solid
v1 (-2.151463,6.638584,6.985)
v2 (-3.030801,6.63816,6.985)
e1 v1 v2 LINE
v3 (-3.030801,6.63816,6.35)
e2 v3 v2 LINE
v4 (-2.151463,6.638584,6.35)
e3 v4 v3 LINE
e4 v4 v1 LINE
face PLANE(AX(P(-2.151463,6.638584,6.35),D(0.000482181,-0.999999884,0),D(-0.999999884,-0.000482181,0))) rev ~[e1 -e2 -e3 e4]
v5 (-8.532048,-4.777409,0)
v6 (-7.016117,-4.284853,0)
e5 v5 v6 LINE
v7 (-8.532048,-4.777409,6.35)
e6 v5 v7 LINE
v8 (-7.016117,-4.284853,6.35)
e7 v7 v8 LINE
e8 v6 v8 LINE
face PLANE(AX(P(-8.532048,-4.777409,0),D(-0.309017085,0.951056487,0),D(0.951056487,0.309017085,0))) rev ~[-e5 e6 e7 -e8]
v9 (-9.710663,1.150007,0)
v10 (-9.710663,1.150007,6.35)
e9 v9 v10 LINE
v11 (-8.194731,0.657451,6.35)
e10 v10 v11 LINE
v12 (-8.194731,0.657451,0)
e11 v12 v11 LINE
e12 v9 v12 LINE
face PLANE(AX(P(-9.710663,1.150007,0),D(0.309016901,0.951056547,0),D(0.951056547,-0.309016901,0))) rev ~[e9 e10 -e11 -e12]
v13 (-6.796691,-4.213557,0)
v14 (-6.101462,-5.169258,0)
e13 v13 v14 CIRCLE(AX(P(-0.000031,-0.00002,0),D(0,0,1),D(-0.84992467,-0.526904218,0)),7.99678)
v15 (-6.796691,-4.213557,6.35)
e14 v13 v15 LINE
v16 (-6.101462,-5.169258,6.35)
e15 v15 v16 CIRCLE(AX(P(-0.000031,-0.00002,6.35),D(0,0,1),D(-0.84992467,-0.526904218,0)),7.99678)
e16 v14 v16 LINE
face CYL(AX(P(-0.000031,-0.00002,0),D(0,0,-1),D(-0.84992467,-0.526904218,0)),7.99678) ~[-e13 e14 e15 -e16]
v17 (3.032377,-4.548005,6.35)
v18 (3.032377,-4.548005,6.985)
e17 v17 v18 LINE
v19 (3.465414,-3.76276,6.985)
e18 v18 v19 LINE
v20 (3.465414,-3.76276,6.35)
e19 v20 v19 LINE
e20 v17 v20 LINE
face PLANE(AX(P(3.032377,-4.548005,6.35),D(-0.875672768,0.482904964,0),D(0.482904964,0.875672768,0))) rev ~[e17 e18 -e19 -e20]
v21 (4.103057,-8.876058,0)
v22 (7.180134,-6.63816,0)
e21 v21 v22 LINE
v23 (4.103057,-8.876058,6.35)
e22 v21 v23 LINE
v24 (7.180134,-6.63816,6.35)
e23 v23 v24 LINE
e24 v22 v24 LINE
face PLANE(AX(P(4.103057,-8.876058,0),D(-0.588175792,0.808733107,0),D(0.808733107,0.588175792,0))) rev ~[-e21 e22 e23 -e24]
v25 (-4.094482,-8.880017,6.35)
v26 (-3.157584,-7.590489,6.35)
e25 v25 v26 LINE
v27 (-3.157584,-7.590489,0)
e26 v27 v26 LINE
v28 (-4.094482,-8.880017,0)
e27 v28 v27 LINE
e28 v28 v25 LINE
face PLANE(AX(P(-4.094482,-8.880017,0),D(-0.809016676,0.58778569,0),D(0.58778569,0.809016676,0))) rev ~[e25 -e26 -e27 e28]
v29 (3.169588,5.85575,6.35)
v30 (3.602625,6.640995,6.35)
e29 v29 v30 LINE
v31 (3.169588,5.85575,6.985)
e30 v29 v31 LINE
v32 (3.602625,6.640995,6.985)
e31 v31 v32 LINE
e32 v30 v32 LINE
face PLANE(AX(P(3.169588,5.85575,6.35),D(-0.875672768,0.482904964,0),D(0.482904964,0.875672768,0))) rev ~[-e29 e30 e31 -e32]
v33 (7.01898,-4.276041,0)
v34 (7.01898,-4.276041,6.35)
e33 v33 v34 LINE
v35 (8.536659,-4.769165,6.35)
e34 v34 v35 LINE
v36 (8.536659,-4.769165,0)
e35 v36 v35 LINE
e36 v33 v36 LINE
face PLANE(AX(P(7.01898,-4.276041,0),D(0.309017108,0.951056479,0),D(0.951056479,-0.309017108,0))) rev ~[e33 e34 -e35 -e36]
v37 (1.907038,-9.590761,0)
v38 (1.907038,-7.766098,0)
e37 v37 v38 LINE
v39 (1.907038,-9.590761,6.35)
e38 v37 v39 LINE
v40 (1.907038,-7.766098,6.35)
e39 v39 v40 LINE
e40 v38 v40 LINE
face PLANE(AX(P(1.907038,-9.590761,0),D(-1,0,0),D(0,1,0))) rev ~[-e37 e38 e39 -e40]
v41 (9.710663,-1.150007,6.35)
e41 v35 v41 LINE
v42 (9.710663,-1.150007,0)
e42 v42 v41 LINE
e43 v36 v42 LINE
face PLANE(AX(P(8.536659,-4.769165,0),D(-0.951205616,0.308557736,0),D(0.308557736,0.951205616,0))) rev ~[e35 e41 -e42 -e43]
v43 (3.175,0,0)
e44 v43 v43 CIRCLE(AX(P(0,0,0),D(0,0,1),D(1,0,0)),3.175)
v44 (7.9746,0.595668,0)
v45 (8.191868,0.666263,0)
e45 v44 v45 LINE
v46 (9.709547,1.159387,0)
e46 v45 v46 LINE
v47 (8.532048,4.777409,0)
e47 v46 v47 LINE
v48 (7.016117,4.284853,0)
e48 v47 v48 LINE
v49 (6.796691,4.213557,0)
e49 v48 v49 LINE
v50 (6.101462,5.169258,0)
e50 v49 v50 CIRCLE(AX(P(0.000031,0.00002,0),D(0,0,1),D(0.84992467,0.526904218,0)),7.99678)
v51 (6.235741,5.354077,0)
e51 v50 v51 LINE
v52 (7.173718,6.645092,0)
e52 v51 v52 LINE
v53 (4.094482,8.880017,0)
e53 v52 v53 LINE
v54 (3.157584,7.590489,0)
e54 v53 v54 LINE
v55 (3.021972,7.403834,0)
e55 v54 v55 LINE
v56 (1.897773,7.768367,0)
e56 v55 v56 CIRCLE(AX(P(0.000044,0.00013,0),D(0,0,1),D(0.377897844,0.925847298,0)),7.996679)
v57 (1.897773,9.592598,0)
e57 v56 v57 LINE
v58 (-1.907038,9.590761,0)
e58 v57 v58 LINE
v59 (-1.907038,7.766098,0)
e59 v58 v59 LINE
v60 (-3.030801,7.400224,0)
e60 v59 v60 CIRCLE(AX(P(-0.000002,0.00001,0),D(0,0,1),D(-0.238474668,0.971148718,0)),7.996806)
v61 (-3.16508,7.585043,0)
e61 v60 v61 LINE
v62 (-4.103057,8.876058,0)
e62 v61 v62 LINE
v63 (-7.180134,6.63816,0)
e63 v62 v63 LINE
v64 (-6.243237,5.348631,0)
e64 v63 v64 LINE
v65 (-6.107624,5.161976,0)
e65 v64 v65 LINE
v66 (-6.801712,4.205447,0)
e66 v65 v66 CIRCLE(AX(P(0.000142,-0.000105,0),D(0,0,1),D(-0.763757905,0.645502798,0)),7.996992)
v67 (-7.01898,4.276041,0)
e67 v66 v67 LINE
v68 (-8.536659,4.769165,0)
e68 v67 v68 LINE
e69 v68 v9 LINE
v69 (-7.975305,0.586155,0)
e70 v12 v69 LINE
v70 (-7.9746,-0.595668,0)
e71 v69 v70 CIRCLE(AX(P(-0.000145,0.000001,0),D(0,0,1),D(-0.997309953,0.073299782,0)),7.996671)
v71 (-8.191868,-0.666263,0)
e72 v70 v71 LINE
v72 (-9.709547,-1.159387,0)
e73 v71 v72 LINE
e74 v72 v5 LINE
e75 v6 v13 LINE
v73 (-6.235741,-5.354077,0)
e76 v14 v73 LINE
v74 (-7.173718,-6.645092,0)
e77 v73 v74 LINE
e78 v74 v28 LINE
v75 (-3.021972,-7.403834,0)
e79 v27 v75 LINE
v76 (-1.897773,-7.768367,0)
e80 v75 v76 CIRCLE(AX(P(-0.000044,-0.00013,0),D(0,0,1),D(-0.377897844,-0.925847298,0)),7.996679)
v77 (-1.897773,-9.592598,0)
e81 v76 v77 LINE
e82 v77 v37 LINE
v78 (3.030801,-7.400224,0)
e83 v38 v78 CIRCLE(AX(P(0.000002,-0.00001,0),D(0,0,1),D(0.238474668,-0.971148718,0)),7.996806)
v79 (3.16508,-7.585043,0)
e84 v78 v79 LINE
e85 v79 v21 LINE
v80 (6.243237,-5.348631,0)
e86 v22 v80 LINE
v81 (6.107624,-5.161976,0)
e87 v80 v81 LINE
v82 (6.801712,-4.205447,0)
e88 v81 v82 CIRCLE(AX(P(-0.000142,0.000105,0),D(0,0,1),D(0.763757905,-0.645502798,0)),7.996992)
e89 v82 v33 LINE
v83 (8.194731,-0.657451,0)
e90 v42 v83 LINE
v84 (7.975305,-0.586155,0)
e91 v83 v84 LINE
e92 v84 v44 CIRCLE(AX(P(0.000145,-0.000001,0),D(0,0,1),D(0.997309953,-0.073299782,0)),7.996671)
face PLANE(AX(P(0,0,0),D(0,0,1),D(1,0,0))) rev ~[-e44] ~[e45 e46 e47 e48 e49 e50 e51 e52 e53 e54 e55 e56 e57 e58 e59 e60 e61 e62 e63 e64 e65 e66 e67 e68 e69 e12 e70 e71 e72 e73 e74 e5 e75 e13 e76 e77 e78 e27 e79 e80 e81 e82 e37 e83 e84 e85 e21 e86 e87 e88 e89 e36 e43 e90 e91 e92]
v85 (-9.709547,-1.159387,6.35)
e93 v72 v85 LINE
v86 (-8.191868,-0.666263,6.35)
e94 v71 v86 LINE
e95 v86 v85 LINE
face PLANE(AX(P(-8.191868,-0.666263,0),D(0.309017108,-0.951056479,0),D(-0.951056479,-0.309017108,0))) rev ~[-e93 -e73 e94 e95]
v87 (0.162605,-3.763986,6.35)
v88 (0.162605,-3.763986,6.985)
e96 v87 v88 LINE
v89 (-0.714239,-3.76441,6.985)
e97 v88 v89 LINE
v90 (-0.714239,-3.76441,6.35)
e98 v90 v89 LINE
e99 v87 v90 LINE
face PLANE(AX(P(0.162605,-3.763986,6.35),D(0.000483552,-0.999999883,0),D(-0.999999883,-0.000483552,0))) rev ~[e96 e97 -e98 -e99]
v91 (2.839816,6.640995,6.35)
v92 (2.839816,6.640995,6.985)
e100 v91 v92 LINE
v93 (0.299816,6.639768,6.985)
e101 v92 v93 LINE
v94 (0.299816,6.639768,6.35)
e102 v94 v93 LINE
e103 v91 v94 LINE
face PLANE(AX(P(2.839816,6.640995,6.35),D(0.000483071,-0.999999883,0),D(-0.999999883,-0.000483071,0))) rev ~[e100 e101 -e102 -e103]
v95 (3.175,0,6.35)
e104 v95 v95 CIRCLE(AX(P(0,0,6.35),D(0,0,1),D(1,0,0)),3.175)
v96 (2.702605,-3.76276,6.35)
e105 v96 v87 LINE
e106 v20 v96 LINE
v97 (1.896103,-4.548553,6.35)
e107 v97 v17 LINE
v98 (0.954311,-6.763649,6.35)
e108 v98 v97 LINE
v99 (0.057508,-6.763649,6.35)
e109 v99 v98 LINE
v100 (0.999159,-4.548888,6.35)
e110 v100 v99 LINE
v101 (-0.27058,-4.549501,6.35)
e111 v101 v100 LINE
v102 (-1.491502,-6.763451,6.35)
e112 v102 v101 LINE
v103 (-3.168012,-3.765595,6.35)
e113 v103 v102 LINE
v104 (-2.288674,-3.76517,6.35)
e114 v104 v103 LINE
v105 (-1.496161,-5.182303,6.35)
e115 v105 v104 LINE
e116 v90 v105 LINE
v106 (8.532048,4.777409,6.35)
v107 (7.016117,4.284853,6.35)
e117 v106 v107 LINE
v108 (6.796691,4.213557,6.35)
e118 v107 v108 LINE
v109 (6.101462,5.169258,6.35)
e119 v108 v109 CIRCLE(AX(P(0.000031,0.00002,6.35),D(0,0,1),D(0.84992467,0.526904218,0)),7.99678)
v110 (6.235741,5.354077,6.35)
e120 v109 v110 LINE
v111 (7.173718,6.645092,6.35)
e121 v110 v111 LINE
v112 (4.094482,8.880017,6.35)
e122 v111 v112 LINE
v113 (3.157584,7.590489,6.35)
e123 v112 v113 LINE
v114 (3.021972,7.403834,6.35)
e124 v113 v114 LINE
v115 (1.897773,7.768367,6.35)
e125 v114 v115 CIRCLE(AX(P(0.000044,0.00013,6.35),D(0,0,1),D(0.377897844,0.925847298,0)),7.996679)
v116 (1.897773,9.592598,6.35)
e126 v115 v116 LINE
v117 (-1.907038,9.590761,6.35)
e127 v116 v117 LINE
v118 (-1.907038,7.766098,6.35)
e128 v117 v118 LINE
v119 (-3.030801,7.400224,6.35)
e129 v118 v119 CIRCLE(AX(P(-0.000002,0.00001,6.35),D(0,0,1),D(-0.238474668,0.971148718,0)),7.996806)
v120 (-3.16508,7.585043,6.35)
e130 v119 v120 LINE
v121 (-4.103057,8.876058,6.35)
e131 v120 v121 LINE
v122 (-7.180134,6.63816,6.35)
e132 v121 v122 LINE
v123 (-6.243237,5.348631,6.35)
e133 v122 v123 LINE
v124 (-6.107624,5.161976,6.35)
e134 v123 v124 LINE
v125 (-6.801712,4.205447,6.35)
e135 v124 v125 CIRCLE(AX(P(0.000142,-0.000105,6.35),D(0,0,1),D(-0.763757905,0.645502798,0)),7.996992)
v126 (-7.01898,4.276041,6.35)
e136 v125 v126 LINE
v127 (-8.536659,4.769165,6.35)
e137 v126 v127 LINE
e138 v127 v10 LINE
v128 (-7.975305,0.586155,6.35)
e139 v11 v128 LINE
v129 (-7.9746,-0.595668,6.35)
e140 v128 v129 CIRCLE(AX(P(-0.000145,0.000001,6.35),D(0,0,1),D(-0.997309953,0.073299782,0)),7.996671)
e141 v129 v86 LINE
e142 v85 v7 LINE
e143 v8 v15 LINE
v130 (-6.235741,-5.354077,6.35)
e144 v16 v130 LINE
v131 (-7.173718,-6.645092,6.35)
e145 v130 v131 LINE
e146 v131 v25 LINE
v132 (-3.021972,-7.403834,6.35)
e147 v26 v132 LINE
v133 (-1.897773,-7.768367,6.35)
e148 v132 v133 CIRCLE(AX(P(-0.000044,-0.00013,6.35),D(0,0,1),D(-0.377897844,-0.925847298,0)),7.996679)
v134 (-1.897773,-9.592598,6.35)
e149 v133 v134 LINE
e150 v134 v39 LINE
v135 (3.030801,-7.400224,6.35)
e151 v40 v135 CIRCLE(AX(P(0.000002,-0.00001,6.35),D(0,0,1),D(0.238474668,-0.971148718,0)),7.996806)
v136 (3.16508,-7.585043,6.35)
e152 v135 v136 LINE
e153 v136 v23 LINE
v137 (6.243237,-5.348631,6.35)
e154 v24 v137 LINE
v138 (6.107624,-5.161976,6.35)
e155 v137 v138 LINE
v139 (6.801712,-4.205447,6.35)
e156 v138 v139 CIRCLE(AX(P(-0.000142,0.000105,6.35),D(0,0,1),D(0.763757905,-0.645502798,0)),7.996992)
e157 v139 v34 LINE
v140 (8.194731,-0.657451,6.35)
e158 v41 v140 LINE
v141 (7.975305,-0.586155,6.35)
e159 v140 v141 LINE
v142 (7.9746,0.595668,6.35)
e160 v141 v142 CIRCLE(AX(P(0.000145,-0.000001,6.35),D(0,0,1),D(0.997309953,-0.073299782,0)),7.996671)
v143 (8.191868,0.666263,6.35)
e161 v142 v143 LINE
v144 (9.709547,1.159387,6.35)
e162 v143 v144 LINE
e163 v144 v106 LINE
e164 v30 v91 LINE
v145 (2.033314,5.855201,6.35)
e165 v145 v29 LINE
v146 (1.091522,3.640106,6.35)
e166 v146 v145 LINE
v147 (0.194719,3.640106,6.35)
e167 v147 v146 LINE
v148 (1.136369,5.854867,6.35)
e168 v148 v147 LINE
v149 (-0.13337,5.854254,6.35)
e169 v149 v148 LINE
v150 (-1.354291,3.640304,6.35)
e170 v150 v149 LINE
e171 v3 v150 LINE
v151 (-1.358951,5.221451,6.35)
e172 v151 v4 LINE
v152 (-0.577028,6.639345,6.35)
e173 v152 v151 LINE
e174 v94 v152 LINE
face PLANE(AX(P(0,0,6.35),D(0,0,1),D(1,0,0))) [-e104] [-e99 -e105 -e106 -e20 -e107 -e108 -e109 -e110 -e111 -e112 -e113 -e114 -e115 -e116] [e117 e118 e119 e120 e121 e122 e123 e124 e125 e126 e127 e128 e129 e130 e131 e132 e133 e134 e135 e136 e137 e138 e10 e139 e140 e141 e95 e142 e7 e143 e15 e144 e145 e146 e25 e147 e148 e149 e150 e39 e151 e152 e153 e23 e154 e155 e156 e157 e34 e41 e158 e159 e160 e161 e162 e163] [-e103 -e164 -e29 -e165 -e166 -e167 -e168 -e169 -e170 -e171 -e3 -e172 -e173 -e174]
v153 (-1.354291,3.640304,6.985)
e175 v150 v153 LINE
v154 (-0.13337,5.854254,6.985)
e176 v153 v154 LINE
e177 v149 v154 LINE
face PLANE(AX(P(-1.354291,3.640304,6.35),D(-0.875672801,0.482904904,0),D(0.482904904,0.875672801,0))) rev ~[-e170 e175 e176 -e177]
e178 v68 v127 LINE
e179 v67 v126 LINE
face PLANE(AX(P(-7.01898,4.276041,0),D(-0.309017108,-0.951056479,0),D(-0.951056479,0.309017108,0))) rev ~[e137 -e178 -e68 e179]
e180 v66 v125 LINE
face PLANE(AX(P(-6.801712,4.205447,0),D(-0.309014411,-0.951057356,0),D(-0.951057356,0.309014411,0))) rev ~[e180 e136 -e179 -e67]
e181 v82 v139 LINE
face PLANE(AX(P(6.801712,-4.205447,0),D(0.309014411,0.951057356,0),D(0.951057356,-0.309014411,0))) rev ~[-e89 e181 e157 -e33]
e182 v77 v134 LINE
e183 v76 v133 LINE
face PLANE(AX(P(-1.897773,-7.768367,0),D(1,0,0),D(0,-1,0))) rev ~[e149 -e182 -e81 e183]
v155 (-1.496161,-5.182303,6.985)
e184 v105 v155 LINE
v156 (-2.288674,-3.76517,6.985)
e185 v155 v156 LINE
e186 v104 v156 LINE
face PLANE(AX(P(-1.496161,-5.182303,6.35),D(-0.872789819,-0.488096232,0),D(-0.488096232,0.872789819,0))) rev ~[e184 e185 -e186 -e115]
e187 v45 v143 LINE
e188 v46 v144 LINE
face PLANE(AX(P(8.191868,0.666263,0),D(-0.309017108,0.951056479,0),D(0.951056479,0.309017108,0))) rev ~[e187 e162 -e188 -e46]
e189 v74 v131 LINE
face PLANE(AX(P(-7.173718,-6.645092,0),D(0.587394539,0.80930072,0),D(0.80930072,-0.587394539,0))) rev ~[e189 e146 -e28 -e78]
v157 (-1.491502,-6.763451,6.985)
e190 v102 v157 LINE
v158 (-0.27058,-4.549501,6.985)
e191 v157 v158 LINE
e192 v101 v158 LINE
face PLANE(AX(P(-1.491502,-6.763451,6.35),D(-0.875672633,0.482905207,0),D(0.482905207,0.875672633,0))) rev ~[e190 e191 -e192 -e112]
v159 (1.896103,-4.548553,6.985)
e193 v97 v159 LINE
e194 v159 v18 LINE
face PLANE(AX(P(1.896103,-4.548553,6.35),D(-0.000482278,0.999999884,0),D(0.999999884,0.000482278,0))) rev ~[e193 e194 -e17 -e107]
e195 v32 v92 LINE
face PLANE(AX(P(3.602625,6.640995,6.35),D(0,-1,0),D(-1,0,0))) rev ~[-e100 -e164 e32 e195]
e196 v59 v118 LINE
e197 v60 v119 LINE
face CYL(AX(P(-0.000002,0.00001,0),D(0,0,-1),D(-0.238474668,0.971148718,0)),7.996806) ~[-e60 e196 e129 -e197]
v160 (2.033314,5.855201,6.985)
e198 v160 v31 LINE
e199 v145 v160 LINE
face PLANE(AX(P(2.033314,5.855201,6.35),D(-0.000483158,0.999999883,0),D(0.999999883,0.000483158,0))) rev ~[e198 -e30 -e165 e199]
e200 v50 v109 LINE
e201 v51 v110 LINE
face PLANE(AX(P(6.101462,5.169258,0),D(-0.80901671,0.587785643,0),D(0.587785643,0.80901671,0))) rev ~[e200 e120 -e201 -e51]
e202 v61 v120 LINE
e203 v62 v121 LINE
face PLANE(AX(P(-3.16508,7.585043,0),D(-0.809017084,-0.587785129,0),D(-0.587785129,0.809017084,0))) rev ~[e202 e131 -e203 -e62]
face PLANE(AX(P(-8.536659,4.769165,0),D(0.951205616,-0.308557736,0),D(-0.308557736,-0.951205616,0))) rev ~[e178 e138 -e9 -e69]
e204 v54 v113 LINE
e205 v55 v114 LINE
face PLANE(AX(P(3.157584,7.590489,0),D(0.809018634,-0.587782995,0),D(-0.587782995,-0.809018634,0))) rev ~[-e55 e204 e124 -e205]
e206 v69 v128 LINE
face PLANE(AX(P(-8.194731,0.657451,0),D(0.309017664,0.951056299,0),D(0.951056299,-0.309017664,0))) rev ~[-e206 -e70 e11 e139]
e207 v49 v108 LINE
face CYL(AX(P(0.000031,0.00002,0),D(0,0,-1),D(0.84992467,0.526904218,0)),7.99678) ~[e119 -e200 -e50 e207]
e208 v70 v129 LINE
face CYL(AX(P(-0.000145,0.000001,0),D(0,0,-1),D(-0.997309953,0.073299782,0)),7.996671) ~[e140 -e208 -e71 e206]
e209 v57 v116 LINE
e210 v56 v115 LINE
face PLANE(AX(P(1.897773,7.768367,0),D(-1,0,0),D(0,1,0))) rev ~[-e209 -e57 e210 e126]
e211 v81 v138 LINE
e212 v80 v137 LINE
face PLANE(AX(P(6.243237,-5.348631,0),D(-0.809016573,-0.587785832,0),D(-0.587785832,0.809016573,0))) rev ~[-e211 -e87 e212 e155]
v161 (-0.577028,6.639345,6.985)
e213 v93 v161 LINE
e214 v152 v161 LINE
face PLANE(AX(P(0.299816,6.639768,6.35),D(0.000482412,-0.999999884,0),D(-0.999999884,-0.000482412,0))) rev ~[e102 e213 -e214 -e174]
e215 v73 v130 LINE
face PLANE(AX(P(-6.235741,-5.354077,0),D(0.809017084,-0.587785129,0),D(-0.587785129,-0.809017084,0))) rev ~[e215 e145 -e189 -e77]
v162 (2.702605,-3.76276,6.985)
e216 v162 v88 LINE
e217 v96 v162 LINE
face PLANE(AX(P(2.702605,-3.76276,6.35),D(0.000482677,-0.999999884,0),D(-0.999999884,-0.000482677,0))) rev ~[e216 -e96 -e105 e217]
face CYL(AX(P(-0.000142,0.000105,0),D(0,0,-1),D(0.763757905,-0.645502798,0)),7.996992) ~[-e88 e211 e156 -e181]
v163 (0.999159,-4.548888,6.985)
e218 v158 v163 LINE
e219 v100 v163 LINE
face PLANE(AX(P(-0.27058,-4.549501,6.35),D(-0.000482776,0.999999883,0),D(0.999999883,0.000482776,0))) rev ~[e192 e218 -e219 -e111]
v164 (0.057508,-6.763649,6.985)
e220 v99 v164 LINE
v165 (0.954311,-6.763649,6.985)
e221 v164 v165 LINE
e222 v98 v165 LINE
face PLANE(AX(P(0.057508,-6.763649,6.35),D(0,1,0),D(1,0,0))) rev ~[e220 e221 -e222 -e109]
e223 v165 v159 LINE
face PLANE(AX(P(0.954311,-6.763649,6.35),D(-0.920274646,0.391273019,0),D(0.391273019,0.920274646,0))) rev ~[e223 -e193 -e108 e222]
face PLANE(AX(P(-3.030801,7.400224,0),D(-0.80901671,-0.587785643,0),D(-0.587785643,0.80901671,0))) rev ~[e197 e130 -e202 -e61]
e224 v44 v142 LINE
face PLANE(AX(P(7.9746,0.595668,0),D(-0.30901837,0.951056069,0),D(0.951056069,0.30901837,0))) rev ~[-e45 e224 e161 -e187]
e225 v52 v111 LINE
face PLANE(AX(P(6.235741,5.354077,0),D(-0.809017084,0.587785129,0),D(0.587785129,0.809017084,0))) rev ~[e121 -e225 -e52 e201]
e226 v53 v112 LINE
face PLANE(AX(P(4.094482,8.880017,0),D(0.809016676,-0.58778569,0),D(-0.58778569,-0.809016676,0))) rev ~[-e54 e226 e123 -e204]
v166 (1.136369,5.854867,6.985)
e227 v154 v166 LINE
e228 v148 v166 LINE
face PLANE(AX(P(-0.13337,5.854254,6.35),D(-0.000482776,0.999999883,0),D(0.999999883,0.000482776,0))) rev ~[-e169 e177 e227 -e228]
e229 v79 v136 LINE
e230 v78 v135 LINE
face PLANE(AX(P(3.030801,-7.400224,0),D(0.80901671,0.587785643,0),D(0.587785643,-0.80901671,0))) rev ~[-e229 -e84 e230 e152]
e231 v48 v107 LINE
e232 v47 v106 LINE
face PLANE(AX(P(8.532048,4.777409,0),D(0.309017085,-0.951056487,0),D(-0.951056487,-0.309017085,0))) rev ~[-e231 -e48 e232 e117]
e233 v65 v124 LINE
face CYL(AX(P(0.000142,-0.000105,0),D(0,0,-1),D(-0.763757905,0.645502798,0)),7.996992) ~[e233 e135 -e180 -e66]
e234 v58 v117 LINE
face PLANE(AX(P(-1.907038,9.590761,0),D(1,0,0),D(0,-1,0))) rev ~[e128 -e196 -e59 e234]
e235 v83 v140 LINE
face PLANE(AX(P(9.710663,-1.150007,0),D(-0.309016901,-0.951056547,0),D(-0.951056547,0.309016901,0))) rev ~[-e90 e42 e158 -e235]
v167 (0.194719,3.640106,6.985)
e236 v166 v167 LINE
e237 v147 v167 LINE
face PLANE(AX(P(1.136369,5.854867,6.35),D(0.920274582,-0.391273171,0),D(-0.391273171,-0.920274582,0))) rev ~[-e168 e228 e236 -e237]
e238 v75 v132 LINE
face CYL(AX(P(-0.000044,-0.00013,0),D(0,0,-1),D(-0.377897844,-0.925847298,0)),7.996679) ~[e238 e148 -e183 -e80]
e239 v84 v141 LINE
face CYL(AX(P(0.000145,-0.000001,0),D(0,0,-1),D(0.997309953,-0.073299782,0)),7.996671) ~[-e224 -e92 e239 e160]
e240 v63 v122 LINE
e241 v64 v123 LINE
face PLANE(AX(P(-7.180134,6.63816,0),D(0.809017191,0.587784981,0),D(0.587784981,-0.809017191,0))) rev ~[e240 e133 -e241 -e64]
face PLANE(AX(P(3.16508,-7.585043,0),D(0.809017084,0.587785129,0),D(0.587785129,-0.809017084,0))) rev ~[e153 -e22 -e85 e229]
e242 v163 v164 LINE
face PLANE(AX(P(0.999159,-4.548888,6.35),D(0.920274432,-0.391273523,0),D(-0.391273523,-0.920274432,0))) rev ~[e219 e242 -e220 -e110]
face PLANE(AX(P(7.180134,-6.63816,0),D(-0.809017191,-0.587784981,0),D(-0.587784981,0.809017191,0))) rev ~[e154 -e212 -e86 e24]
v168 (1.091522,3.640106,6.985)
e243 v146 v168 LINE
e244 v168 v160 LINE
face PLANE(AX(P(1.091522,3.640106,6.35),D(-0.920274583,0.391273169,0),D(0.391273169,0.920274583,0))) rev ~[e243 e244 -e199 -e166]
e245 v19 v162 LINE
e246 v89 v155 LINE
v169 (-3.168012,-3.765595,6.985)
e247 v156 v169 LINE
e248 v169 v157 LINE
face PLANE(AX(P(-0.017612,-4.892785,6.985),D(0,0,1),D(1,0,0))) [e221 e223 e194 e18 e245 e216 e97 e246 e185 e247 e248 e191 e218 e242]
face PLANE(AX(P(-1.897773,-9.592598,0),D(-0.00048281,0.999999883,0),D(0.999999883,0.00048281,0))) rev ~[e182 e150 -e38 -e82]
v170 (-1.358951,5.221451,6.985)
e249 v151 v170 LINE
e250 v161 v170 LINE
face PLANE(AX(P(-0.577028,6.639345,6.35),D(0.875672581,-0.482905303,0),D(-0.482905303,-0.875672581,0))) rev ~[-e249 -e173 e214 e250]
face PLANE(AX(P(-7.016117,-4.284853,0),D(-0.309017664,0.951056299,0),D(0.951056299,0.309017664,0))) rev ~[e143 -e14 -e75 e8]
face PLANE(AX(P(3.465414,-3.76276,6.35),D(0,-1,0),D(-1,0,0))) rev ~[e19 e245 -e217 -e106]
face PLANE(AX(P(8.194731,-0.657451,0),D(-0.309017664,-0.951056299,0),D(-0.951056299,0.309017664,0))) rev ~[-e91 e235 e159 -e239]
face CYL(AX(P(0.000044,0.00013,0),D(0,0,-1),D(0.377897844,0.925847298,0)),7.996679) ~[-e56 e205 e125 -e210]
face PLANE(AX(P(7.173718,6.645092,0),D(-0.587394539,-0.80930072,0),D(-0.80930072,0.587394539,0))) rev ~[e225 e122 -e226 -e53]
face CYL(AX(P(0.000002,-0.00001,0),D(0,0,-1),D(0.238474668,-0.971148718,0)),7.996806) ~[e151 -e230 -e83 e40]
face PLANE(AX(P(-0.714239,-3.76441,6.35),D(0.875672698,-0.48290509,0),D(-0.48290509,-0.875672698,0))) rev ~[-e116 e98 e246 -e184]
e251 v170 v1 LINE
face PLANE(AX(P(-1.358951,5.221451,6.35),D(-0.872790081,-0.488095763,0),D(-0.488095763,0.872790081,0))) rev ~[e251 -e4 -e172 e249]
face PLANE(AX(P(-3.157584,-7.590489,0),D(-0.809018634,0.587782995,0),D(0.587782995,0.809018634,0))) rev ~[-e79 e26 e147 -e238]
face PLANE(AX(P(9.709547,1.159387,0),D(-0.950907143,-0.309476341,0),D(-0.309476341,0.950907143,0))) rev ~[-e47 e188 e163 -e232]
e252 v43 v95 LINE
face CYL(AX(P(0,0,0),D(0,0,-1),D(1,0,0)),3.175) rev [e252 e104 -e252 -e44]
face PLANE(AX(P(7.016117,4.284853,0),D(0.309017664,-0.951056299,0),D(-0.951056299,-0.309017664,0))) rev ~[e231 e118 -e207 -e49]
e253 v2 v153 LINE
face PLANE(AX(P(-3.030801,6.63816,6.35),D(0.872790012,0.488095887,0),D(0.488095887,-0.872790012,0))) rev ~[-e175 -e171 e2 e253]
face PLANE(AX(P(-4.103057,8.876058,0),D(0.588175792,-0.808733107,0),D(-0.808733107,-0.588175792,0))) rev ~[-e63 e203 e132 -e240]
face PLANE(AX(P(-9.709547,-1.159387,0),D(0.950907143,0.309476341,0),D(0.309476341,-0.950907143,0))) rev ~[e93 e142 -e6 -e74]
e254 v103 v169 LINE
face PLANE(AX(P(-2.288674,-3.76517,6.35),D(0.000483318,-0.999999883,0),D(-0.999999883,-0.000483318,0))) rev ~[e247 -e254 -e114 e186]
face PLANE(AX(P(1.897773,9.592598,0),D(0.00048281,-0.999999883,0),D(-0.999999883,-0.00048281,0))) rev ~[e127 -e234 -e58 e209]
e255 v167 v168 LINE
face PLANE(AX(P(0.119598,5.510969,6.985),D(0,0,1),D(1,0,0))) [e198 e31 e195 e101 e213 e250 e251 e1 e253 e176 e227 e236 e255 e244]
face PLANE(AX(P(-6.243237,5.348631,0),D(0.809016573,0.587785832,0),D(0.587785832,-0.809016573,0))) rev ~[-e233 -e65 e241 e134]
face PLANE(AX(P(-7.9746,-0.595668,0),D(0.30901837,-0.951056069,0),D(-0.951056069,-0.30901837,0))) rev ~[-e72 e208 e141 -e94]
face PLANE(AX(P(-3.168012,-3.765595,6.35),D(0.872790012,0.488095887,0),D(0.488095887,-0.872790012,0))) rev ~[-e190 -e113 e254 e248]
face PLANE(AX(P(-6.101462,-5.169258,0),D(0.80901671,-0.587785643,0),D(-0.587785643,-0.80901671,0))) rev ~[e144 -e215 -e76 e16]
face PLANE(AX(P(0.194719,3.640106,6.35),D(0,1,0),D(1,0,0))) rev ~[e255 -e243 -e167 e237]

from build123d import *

# Parameters (mm, degrees)
F0_R     = 3.175
F1_DEPTH = 6.35
F3_DEPTH = 0.635


with BuildPart() as f1:
    # F0 (on Top) → F1 (new body)
    with BuildSketch(Plane.XY):
        with BuildLine():
            Line((-6.243237, 5.348631), (-6.107624, 5.161976))
            ThreePointArc((-6.107624, 5.161976), (-6.472362, 4.696551), (-6.801712, 4.205447))
            Line((-6.801712, 4.205447), (-7.01898, 4.276041))
            Line((-7.01898, 4.276041), (-8.536659, 4.769165))
            Line((-8.536659, 4.769165), (-9.710663, 1.150007))
            Line((-9.710663, 1.150007), (-8.194731, 0.657451))
            Line((-8.194731, 0.657451), (-7.975305, 0.586155))
            ThreePointArc((-7.975305, 0.586155), (-7.996815, -0.004769), (-7.9746, -0.595668))
            Line((-7.9746, -0.595668), (-8.191868, -0.666263))
            Line((-8.191868, -0.666263), (-9.709547, -1.159387))
            Line((-9.709547, -1.159387), (-8.532048, -4.777409))
            Line((-8.532048, -4.777409), (-7.016117, -4.284853))
            Line((-7.016117, -4.284853), (-6.796691, -4.213557))
            ThreePointArc((-6.796691, -4.213557), (-6.466756, -4.704268), (-6.101462, -5.169258))
            Line((-6.101462, -5.169258), (-6.235741, -5.354077))
            Line((-6.235741, -5.354077), (-7.173718, -6.645092))
            Line((-7.173718, -6.645092), (-4.094482, -8.880017))
            Line((-4.094482, -8.880017), (-3.157584, -7.590489))
            Line((-3.157584, -7.590489), (-3.021972, -7.403834))
            ThreePointArc((-3.021972, -7.403834), (-2.466616, -7.606897), (-1.897773, -7.768367))
            Line((-1.897773, -7.768367), (-1.897773, -7.996816))
            Line((-1.897773, -7.996816), (-1.897773, -9.592598))
            Line((-1.897773, -9.592598), (1.907038, -9.590761))
            Line((1.907038, -9.590761), (1.907038, -7.996816))
            Line((1.907038, -7.996816), (1.907038, -7.766098))
            ThreePointArc((1.907038, -7.766098), (2.475688, -7.603949), (3.030801, -7.400224))
            Line((3.030801, -7.400224), (3.16508, -7.585043))
            Line((3.16508, -7.585043), (4.103057, -8.876058))
            Line((4.103057, -8.876058), (7.180134, -6.63816))
            Line((7.180134, -6.63816), (6.243237, -5.348631))
            Line((6.243237, -5.348631), (6.107624, -5.161976))
            ThreePointArc((6.107624, -5.161976), (6.472362, -4.696551), (6.801712, -4.205447))
            Line((6.801712, -4.205447), (7.01898, -4.276041))
            Line((7.01898, -4.276041), (8.536659, -4.769165))
            Line((8.536659, -4.769165), (9.710663, -1.150007))
            Line((9.710663, -1.150007), (8.194731, -0.657451))
            Line((8.194731, -0.657451), (7.975305, -0.586155))
            ThreePointArc((7.975305, -0.586155), (7.996815, 0.004769), (7.9746, 0.595668))
            Line((7.9746, 0.595668), (8.191868, 0.666263))
            Line((8.191868, 0.666263), (9.709547, 1.159387))
            Line((9.709547, 1.159387), (8.532048, 4.777409))
            Line((8.532048, 4.777409), (7.016117, 4.284853))
            Line((7.016117, 4.284853), (6.796691, 4.213557))
            ThreePointArc((6.796691, 4.213557), (6.466756, 4.704268), (6.101462, 5.169258))
            Line((6.101462, 5.169258), (6.235741, 5.354077))
            Line((6.235741, 5.354077), (7.173718, 6.645092))
            Line((7.173718, 6.645092), (4.094482, 8.880017))
            Line((4.094482, 8.880017), (3.157584, 7.590489))
            Line((3.157584, 7.590489), (3.021972, 7.403834))
            ThreePointArc((3.021972, 7.403834), (2.466616, 7.606897), (1.897773, 7.768367))
            Line((1.897773, 7.768367), (1.897773, 7.996816))
            Line((1.897773, 7.996816), (1.897773, 9.592598))
            Line((1.897773, 9.592598), (-1.907038, 9.590761))
            Line((-1.907038, 9.590761), (-1.907038, 7.996816))
            Line((-1.907038, 7.996816), (-1.907038, 7.766098))
            ThreePointArc((-1.907038, 7.766098), (-2.475688, 7.603949), (-3.030801, 7.400224))
            Line((-3.030801, 7.400224), (-3.16508, 7.585043))
            Line((-3.16508, 7.585043), (-4.103057, 8.876058))
            Line((-4.103057, 8.876058), (-7.180134, 6.63816))
            Line((-7.180134, 6.63816), (-6.243237, 5.348631))
        make_face()
        Circle(F0_R, mode=Mode.SUBTRACT)
    extrude(amount=F1_DEPTH)

    # F2 (on face) → F3 (join)
    with BuildSketch(Plane.XY.offset(6.35)):
        Polygon((-2.151463, 6.638584), (-3.030801, 6.63816), (-1.354291, 3.640304), (-0.13337, 5.854254), (1.136369, 5.854867), (0.194719, 3.640106), (1.091522, 3.640106), (2.033314, 5.855201), (3.169588, 5.85575), (3.602625, 6.640995), (2.839816, 6.640995), (0.299816, 6.639768), (-0.577028, 6.639345), (-1.358951, 5.221451), align=None)
        Polygon((-2.288674, -3.76517), (-3.168012, -3.765595), (-1.491502, -6.763451), (-0.27058, -4.549501), (0.999159, -4.548888), (0.057508, -6.763649), (0.954311, -6.763649), (1.896103, -4.548553), (3.032377, -4.548005), (3.465414, -3.76276), (2.702605, -3.76276), (0.162605, -3.763986), (-0.714239, -3.76441), (-1.496161, -5.182303), align=None)
    extrude(amount=F3_DEPTH)


solid = f1.part
